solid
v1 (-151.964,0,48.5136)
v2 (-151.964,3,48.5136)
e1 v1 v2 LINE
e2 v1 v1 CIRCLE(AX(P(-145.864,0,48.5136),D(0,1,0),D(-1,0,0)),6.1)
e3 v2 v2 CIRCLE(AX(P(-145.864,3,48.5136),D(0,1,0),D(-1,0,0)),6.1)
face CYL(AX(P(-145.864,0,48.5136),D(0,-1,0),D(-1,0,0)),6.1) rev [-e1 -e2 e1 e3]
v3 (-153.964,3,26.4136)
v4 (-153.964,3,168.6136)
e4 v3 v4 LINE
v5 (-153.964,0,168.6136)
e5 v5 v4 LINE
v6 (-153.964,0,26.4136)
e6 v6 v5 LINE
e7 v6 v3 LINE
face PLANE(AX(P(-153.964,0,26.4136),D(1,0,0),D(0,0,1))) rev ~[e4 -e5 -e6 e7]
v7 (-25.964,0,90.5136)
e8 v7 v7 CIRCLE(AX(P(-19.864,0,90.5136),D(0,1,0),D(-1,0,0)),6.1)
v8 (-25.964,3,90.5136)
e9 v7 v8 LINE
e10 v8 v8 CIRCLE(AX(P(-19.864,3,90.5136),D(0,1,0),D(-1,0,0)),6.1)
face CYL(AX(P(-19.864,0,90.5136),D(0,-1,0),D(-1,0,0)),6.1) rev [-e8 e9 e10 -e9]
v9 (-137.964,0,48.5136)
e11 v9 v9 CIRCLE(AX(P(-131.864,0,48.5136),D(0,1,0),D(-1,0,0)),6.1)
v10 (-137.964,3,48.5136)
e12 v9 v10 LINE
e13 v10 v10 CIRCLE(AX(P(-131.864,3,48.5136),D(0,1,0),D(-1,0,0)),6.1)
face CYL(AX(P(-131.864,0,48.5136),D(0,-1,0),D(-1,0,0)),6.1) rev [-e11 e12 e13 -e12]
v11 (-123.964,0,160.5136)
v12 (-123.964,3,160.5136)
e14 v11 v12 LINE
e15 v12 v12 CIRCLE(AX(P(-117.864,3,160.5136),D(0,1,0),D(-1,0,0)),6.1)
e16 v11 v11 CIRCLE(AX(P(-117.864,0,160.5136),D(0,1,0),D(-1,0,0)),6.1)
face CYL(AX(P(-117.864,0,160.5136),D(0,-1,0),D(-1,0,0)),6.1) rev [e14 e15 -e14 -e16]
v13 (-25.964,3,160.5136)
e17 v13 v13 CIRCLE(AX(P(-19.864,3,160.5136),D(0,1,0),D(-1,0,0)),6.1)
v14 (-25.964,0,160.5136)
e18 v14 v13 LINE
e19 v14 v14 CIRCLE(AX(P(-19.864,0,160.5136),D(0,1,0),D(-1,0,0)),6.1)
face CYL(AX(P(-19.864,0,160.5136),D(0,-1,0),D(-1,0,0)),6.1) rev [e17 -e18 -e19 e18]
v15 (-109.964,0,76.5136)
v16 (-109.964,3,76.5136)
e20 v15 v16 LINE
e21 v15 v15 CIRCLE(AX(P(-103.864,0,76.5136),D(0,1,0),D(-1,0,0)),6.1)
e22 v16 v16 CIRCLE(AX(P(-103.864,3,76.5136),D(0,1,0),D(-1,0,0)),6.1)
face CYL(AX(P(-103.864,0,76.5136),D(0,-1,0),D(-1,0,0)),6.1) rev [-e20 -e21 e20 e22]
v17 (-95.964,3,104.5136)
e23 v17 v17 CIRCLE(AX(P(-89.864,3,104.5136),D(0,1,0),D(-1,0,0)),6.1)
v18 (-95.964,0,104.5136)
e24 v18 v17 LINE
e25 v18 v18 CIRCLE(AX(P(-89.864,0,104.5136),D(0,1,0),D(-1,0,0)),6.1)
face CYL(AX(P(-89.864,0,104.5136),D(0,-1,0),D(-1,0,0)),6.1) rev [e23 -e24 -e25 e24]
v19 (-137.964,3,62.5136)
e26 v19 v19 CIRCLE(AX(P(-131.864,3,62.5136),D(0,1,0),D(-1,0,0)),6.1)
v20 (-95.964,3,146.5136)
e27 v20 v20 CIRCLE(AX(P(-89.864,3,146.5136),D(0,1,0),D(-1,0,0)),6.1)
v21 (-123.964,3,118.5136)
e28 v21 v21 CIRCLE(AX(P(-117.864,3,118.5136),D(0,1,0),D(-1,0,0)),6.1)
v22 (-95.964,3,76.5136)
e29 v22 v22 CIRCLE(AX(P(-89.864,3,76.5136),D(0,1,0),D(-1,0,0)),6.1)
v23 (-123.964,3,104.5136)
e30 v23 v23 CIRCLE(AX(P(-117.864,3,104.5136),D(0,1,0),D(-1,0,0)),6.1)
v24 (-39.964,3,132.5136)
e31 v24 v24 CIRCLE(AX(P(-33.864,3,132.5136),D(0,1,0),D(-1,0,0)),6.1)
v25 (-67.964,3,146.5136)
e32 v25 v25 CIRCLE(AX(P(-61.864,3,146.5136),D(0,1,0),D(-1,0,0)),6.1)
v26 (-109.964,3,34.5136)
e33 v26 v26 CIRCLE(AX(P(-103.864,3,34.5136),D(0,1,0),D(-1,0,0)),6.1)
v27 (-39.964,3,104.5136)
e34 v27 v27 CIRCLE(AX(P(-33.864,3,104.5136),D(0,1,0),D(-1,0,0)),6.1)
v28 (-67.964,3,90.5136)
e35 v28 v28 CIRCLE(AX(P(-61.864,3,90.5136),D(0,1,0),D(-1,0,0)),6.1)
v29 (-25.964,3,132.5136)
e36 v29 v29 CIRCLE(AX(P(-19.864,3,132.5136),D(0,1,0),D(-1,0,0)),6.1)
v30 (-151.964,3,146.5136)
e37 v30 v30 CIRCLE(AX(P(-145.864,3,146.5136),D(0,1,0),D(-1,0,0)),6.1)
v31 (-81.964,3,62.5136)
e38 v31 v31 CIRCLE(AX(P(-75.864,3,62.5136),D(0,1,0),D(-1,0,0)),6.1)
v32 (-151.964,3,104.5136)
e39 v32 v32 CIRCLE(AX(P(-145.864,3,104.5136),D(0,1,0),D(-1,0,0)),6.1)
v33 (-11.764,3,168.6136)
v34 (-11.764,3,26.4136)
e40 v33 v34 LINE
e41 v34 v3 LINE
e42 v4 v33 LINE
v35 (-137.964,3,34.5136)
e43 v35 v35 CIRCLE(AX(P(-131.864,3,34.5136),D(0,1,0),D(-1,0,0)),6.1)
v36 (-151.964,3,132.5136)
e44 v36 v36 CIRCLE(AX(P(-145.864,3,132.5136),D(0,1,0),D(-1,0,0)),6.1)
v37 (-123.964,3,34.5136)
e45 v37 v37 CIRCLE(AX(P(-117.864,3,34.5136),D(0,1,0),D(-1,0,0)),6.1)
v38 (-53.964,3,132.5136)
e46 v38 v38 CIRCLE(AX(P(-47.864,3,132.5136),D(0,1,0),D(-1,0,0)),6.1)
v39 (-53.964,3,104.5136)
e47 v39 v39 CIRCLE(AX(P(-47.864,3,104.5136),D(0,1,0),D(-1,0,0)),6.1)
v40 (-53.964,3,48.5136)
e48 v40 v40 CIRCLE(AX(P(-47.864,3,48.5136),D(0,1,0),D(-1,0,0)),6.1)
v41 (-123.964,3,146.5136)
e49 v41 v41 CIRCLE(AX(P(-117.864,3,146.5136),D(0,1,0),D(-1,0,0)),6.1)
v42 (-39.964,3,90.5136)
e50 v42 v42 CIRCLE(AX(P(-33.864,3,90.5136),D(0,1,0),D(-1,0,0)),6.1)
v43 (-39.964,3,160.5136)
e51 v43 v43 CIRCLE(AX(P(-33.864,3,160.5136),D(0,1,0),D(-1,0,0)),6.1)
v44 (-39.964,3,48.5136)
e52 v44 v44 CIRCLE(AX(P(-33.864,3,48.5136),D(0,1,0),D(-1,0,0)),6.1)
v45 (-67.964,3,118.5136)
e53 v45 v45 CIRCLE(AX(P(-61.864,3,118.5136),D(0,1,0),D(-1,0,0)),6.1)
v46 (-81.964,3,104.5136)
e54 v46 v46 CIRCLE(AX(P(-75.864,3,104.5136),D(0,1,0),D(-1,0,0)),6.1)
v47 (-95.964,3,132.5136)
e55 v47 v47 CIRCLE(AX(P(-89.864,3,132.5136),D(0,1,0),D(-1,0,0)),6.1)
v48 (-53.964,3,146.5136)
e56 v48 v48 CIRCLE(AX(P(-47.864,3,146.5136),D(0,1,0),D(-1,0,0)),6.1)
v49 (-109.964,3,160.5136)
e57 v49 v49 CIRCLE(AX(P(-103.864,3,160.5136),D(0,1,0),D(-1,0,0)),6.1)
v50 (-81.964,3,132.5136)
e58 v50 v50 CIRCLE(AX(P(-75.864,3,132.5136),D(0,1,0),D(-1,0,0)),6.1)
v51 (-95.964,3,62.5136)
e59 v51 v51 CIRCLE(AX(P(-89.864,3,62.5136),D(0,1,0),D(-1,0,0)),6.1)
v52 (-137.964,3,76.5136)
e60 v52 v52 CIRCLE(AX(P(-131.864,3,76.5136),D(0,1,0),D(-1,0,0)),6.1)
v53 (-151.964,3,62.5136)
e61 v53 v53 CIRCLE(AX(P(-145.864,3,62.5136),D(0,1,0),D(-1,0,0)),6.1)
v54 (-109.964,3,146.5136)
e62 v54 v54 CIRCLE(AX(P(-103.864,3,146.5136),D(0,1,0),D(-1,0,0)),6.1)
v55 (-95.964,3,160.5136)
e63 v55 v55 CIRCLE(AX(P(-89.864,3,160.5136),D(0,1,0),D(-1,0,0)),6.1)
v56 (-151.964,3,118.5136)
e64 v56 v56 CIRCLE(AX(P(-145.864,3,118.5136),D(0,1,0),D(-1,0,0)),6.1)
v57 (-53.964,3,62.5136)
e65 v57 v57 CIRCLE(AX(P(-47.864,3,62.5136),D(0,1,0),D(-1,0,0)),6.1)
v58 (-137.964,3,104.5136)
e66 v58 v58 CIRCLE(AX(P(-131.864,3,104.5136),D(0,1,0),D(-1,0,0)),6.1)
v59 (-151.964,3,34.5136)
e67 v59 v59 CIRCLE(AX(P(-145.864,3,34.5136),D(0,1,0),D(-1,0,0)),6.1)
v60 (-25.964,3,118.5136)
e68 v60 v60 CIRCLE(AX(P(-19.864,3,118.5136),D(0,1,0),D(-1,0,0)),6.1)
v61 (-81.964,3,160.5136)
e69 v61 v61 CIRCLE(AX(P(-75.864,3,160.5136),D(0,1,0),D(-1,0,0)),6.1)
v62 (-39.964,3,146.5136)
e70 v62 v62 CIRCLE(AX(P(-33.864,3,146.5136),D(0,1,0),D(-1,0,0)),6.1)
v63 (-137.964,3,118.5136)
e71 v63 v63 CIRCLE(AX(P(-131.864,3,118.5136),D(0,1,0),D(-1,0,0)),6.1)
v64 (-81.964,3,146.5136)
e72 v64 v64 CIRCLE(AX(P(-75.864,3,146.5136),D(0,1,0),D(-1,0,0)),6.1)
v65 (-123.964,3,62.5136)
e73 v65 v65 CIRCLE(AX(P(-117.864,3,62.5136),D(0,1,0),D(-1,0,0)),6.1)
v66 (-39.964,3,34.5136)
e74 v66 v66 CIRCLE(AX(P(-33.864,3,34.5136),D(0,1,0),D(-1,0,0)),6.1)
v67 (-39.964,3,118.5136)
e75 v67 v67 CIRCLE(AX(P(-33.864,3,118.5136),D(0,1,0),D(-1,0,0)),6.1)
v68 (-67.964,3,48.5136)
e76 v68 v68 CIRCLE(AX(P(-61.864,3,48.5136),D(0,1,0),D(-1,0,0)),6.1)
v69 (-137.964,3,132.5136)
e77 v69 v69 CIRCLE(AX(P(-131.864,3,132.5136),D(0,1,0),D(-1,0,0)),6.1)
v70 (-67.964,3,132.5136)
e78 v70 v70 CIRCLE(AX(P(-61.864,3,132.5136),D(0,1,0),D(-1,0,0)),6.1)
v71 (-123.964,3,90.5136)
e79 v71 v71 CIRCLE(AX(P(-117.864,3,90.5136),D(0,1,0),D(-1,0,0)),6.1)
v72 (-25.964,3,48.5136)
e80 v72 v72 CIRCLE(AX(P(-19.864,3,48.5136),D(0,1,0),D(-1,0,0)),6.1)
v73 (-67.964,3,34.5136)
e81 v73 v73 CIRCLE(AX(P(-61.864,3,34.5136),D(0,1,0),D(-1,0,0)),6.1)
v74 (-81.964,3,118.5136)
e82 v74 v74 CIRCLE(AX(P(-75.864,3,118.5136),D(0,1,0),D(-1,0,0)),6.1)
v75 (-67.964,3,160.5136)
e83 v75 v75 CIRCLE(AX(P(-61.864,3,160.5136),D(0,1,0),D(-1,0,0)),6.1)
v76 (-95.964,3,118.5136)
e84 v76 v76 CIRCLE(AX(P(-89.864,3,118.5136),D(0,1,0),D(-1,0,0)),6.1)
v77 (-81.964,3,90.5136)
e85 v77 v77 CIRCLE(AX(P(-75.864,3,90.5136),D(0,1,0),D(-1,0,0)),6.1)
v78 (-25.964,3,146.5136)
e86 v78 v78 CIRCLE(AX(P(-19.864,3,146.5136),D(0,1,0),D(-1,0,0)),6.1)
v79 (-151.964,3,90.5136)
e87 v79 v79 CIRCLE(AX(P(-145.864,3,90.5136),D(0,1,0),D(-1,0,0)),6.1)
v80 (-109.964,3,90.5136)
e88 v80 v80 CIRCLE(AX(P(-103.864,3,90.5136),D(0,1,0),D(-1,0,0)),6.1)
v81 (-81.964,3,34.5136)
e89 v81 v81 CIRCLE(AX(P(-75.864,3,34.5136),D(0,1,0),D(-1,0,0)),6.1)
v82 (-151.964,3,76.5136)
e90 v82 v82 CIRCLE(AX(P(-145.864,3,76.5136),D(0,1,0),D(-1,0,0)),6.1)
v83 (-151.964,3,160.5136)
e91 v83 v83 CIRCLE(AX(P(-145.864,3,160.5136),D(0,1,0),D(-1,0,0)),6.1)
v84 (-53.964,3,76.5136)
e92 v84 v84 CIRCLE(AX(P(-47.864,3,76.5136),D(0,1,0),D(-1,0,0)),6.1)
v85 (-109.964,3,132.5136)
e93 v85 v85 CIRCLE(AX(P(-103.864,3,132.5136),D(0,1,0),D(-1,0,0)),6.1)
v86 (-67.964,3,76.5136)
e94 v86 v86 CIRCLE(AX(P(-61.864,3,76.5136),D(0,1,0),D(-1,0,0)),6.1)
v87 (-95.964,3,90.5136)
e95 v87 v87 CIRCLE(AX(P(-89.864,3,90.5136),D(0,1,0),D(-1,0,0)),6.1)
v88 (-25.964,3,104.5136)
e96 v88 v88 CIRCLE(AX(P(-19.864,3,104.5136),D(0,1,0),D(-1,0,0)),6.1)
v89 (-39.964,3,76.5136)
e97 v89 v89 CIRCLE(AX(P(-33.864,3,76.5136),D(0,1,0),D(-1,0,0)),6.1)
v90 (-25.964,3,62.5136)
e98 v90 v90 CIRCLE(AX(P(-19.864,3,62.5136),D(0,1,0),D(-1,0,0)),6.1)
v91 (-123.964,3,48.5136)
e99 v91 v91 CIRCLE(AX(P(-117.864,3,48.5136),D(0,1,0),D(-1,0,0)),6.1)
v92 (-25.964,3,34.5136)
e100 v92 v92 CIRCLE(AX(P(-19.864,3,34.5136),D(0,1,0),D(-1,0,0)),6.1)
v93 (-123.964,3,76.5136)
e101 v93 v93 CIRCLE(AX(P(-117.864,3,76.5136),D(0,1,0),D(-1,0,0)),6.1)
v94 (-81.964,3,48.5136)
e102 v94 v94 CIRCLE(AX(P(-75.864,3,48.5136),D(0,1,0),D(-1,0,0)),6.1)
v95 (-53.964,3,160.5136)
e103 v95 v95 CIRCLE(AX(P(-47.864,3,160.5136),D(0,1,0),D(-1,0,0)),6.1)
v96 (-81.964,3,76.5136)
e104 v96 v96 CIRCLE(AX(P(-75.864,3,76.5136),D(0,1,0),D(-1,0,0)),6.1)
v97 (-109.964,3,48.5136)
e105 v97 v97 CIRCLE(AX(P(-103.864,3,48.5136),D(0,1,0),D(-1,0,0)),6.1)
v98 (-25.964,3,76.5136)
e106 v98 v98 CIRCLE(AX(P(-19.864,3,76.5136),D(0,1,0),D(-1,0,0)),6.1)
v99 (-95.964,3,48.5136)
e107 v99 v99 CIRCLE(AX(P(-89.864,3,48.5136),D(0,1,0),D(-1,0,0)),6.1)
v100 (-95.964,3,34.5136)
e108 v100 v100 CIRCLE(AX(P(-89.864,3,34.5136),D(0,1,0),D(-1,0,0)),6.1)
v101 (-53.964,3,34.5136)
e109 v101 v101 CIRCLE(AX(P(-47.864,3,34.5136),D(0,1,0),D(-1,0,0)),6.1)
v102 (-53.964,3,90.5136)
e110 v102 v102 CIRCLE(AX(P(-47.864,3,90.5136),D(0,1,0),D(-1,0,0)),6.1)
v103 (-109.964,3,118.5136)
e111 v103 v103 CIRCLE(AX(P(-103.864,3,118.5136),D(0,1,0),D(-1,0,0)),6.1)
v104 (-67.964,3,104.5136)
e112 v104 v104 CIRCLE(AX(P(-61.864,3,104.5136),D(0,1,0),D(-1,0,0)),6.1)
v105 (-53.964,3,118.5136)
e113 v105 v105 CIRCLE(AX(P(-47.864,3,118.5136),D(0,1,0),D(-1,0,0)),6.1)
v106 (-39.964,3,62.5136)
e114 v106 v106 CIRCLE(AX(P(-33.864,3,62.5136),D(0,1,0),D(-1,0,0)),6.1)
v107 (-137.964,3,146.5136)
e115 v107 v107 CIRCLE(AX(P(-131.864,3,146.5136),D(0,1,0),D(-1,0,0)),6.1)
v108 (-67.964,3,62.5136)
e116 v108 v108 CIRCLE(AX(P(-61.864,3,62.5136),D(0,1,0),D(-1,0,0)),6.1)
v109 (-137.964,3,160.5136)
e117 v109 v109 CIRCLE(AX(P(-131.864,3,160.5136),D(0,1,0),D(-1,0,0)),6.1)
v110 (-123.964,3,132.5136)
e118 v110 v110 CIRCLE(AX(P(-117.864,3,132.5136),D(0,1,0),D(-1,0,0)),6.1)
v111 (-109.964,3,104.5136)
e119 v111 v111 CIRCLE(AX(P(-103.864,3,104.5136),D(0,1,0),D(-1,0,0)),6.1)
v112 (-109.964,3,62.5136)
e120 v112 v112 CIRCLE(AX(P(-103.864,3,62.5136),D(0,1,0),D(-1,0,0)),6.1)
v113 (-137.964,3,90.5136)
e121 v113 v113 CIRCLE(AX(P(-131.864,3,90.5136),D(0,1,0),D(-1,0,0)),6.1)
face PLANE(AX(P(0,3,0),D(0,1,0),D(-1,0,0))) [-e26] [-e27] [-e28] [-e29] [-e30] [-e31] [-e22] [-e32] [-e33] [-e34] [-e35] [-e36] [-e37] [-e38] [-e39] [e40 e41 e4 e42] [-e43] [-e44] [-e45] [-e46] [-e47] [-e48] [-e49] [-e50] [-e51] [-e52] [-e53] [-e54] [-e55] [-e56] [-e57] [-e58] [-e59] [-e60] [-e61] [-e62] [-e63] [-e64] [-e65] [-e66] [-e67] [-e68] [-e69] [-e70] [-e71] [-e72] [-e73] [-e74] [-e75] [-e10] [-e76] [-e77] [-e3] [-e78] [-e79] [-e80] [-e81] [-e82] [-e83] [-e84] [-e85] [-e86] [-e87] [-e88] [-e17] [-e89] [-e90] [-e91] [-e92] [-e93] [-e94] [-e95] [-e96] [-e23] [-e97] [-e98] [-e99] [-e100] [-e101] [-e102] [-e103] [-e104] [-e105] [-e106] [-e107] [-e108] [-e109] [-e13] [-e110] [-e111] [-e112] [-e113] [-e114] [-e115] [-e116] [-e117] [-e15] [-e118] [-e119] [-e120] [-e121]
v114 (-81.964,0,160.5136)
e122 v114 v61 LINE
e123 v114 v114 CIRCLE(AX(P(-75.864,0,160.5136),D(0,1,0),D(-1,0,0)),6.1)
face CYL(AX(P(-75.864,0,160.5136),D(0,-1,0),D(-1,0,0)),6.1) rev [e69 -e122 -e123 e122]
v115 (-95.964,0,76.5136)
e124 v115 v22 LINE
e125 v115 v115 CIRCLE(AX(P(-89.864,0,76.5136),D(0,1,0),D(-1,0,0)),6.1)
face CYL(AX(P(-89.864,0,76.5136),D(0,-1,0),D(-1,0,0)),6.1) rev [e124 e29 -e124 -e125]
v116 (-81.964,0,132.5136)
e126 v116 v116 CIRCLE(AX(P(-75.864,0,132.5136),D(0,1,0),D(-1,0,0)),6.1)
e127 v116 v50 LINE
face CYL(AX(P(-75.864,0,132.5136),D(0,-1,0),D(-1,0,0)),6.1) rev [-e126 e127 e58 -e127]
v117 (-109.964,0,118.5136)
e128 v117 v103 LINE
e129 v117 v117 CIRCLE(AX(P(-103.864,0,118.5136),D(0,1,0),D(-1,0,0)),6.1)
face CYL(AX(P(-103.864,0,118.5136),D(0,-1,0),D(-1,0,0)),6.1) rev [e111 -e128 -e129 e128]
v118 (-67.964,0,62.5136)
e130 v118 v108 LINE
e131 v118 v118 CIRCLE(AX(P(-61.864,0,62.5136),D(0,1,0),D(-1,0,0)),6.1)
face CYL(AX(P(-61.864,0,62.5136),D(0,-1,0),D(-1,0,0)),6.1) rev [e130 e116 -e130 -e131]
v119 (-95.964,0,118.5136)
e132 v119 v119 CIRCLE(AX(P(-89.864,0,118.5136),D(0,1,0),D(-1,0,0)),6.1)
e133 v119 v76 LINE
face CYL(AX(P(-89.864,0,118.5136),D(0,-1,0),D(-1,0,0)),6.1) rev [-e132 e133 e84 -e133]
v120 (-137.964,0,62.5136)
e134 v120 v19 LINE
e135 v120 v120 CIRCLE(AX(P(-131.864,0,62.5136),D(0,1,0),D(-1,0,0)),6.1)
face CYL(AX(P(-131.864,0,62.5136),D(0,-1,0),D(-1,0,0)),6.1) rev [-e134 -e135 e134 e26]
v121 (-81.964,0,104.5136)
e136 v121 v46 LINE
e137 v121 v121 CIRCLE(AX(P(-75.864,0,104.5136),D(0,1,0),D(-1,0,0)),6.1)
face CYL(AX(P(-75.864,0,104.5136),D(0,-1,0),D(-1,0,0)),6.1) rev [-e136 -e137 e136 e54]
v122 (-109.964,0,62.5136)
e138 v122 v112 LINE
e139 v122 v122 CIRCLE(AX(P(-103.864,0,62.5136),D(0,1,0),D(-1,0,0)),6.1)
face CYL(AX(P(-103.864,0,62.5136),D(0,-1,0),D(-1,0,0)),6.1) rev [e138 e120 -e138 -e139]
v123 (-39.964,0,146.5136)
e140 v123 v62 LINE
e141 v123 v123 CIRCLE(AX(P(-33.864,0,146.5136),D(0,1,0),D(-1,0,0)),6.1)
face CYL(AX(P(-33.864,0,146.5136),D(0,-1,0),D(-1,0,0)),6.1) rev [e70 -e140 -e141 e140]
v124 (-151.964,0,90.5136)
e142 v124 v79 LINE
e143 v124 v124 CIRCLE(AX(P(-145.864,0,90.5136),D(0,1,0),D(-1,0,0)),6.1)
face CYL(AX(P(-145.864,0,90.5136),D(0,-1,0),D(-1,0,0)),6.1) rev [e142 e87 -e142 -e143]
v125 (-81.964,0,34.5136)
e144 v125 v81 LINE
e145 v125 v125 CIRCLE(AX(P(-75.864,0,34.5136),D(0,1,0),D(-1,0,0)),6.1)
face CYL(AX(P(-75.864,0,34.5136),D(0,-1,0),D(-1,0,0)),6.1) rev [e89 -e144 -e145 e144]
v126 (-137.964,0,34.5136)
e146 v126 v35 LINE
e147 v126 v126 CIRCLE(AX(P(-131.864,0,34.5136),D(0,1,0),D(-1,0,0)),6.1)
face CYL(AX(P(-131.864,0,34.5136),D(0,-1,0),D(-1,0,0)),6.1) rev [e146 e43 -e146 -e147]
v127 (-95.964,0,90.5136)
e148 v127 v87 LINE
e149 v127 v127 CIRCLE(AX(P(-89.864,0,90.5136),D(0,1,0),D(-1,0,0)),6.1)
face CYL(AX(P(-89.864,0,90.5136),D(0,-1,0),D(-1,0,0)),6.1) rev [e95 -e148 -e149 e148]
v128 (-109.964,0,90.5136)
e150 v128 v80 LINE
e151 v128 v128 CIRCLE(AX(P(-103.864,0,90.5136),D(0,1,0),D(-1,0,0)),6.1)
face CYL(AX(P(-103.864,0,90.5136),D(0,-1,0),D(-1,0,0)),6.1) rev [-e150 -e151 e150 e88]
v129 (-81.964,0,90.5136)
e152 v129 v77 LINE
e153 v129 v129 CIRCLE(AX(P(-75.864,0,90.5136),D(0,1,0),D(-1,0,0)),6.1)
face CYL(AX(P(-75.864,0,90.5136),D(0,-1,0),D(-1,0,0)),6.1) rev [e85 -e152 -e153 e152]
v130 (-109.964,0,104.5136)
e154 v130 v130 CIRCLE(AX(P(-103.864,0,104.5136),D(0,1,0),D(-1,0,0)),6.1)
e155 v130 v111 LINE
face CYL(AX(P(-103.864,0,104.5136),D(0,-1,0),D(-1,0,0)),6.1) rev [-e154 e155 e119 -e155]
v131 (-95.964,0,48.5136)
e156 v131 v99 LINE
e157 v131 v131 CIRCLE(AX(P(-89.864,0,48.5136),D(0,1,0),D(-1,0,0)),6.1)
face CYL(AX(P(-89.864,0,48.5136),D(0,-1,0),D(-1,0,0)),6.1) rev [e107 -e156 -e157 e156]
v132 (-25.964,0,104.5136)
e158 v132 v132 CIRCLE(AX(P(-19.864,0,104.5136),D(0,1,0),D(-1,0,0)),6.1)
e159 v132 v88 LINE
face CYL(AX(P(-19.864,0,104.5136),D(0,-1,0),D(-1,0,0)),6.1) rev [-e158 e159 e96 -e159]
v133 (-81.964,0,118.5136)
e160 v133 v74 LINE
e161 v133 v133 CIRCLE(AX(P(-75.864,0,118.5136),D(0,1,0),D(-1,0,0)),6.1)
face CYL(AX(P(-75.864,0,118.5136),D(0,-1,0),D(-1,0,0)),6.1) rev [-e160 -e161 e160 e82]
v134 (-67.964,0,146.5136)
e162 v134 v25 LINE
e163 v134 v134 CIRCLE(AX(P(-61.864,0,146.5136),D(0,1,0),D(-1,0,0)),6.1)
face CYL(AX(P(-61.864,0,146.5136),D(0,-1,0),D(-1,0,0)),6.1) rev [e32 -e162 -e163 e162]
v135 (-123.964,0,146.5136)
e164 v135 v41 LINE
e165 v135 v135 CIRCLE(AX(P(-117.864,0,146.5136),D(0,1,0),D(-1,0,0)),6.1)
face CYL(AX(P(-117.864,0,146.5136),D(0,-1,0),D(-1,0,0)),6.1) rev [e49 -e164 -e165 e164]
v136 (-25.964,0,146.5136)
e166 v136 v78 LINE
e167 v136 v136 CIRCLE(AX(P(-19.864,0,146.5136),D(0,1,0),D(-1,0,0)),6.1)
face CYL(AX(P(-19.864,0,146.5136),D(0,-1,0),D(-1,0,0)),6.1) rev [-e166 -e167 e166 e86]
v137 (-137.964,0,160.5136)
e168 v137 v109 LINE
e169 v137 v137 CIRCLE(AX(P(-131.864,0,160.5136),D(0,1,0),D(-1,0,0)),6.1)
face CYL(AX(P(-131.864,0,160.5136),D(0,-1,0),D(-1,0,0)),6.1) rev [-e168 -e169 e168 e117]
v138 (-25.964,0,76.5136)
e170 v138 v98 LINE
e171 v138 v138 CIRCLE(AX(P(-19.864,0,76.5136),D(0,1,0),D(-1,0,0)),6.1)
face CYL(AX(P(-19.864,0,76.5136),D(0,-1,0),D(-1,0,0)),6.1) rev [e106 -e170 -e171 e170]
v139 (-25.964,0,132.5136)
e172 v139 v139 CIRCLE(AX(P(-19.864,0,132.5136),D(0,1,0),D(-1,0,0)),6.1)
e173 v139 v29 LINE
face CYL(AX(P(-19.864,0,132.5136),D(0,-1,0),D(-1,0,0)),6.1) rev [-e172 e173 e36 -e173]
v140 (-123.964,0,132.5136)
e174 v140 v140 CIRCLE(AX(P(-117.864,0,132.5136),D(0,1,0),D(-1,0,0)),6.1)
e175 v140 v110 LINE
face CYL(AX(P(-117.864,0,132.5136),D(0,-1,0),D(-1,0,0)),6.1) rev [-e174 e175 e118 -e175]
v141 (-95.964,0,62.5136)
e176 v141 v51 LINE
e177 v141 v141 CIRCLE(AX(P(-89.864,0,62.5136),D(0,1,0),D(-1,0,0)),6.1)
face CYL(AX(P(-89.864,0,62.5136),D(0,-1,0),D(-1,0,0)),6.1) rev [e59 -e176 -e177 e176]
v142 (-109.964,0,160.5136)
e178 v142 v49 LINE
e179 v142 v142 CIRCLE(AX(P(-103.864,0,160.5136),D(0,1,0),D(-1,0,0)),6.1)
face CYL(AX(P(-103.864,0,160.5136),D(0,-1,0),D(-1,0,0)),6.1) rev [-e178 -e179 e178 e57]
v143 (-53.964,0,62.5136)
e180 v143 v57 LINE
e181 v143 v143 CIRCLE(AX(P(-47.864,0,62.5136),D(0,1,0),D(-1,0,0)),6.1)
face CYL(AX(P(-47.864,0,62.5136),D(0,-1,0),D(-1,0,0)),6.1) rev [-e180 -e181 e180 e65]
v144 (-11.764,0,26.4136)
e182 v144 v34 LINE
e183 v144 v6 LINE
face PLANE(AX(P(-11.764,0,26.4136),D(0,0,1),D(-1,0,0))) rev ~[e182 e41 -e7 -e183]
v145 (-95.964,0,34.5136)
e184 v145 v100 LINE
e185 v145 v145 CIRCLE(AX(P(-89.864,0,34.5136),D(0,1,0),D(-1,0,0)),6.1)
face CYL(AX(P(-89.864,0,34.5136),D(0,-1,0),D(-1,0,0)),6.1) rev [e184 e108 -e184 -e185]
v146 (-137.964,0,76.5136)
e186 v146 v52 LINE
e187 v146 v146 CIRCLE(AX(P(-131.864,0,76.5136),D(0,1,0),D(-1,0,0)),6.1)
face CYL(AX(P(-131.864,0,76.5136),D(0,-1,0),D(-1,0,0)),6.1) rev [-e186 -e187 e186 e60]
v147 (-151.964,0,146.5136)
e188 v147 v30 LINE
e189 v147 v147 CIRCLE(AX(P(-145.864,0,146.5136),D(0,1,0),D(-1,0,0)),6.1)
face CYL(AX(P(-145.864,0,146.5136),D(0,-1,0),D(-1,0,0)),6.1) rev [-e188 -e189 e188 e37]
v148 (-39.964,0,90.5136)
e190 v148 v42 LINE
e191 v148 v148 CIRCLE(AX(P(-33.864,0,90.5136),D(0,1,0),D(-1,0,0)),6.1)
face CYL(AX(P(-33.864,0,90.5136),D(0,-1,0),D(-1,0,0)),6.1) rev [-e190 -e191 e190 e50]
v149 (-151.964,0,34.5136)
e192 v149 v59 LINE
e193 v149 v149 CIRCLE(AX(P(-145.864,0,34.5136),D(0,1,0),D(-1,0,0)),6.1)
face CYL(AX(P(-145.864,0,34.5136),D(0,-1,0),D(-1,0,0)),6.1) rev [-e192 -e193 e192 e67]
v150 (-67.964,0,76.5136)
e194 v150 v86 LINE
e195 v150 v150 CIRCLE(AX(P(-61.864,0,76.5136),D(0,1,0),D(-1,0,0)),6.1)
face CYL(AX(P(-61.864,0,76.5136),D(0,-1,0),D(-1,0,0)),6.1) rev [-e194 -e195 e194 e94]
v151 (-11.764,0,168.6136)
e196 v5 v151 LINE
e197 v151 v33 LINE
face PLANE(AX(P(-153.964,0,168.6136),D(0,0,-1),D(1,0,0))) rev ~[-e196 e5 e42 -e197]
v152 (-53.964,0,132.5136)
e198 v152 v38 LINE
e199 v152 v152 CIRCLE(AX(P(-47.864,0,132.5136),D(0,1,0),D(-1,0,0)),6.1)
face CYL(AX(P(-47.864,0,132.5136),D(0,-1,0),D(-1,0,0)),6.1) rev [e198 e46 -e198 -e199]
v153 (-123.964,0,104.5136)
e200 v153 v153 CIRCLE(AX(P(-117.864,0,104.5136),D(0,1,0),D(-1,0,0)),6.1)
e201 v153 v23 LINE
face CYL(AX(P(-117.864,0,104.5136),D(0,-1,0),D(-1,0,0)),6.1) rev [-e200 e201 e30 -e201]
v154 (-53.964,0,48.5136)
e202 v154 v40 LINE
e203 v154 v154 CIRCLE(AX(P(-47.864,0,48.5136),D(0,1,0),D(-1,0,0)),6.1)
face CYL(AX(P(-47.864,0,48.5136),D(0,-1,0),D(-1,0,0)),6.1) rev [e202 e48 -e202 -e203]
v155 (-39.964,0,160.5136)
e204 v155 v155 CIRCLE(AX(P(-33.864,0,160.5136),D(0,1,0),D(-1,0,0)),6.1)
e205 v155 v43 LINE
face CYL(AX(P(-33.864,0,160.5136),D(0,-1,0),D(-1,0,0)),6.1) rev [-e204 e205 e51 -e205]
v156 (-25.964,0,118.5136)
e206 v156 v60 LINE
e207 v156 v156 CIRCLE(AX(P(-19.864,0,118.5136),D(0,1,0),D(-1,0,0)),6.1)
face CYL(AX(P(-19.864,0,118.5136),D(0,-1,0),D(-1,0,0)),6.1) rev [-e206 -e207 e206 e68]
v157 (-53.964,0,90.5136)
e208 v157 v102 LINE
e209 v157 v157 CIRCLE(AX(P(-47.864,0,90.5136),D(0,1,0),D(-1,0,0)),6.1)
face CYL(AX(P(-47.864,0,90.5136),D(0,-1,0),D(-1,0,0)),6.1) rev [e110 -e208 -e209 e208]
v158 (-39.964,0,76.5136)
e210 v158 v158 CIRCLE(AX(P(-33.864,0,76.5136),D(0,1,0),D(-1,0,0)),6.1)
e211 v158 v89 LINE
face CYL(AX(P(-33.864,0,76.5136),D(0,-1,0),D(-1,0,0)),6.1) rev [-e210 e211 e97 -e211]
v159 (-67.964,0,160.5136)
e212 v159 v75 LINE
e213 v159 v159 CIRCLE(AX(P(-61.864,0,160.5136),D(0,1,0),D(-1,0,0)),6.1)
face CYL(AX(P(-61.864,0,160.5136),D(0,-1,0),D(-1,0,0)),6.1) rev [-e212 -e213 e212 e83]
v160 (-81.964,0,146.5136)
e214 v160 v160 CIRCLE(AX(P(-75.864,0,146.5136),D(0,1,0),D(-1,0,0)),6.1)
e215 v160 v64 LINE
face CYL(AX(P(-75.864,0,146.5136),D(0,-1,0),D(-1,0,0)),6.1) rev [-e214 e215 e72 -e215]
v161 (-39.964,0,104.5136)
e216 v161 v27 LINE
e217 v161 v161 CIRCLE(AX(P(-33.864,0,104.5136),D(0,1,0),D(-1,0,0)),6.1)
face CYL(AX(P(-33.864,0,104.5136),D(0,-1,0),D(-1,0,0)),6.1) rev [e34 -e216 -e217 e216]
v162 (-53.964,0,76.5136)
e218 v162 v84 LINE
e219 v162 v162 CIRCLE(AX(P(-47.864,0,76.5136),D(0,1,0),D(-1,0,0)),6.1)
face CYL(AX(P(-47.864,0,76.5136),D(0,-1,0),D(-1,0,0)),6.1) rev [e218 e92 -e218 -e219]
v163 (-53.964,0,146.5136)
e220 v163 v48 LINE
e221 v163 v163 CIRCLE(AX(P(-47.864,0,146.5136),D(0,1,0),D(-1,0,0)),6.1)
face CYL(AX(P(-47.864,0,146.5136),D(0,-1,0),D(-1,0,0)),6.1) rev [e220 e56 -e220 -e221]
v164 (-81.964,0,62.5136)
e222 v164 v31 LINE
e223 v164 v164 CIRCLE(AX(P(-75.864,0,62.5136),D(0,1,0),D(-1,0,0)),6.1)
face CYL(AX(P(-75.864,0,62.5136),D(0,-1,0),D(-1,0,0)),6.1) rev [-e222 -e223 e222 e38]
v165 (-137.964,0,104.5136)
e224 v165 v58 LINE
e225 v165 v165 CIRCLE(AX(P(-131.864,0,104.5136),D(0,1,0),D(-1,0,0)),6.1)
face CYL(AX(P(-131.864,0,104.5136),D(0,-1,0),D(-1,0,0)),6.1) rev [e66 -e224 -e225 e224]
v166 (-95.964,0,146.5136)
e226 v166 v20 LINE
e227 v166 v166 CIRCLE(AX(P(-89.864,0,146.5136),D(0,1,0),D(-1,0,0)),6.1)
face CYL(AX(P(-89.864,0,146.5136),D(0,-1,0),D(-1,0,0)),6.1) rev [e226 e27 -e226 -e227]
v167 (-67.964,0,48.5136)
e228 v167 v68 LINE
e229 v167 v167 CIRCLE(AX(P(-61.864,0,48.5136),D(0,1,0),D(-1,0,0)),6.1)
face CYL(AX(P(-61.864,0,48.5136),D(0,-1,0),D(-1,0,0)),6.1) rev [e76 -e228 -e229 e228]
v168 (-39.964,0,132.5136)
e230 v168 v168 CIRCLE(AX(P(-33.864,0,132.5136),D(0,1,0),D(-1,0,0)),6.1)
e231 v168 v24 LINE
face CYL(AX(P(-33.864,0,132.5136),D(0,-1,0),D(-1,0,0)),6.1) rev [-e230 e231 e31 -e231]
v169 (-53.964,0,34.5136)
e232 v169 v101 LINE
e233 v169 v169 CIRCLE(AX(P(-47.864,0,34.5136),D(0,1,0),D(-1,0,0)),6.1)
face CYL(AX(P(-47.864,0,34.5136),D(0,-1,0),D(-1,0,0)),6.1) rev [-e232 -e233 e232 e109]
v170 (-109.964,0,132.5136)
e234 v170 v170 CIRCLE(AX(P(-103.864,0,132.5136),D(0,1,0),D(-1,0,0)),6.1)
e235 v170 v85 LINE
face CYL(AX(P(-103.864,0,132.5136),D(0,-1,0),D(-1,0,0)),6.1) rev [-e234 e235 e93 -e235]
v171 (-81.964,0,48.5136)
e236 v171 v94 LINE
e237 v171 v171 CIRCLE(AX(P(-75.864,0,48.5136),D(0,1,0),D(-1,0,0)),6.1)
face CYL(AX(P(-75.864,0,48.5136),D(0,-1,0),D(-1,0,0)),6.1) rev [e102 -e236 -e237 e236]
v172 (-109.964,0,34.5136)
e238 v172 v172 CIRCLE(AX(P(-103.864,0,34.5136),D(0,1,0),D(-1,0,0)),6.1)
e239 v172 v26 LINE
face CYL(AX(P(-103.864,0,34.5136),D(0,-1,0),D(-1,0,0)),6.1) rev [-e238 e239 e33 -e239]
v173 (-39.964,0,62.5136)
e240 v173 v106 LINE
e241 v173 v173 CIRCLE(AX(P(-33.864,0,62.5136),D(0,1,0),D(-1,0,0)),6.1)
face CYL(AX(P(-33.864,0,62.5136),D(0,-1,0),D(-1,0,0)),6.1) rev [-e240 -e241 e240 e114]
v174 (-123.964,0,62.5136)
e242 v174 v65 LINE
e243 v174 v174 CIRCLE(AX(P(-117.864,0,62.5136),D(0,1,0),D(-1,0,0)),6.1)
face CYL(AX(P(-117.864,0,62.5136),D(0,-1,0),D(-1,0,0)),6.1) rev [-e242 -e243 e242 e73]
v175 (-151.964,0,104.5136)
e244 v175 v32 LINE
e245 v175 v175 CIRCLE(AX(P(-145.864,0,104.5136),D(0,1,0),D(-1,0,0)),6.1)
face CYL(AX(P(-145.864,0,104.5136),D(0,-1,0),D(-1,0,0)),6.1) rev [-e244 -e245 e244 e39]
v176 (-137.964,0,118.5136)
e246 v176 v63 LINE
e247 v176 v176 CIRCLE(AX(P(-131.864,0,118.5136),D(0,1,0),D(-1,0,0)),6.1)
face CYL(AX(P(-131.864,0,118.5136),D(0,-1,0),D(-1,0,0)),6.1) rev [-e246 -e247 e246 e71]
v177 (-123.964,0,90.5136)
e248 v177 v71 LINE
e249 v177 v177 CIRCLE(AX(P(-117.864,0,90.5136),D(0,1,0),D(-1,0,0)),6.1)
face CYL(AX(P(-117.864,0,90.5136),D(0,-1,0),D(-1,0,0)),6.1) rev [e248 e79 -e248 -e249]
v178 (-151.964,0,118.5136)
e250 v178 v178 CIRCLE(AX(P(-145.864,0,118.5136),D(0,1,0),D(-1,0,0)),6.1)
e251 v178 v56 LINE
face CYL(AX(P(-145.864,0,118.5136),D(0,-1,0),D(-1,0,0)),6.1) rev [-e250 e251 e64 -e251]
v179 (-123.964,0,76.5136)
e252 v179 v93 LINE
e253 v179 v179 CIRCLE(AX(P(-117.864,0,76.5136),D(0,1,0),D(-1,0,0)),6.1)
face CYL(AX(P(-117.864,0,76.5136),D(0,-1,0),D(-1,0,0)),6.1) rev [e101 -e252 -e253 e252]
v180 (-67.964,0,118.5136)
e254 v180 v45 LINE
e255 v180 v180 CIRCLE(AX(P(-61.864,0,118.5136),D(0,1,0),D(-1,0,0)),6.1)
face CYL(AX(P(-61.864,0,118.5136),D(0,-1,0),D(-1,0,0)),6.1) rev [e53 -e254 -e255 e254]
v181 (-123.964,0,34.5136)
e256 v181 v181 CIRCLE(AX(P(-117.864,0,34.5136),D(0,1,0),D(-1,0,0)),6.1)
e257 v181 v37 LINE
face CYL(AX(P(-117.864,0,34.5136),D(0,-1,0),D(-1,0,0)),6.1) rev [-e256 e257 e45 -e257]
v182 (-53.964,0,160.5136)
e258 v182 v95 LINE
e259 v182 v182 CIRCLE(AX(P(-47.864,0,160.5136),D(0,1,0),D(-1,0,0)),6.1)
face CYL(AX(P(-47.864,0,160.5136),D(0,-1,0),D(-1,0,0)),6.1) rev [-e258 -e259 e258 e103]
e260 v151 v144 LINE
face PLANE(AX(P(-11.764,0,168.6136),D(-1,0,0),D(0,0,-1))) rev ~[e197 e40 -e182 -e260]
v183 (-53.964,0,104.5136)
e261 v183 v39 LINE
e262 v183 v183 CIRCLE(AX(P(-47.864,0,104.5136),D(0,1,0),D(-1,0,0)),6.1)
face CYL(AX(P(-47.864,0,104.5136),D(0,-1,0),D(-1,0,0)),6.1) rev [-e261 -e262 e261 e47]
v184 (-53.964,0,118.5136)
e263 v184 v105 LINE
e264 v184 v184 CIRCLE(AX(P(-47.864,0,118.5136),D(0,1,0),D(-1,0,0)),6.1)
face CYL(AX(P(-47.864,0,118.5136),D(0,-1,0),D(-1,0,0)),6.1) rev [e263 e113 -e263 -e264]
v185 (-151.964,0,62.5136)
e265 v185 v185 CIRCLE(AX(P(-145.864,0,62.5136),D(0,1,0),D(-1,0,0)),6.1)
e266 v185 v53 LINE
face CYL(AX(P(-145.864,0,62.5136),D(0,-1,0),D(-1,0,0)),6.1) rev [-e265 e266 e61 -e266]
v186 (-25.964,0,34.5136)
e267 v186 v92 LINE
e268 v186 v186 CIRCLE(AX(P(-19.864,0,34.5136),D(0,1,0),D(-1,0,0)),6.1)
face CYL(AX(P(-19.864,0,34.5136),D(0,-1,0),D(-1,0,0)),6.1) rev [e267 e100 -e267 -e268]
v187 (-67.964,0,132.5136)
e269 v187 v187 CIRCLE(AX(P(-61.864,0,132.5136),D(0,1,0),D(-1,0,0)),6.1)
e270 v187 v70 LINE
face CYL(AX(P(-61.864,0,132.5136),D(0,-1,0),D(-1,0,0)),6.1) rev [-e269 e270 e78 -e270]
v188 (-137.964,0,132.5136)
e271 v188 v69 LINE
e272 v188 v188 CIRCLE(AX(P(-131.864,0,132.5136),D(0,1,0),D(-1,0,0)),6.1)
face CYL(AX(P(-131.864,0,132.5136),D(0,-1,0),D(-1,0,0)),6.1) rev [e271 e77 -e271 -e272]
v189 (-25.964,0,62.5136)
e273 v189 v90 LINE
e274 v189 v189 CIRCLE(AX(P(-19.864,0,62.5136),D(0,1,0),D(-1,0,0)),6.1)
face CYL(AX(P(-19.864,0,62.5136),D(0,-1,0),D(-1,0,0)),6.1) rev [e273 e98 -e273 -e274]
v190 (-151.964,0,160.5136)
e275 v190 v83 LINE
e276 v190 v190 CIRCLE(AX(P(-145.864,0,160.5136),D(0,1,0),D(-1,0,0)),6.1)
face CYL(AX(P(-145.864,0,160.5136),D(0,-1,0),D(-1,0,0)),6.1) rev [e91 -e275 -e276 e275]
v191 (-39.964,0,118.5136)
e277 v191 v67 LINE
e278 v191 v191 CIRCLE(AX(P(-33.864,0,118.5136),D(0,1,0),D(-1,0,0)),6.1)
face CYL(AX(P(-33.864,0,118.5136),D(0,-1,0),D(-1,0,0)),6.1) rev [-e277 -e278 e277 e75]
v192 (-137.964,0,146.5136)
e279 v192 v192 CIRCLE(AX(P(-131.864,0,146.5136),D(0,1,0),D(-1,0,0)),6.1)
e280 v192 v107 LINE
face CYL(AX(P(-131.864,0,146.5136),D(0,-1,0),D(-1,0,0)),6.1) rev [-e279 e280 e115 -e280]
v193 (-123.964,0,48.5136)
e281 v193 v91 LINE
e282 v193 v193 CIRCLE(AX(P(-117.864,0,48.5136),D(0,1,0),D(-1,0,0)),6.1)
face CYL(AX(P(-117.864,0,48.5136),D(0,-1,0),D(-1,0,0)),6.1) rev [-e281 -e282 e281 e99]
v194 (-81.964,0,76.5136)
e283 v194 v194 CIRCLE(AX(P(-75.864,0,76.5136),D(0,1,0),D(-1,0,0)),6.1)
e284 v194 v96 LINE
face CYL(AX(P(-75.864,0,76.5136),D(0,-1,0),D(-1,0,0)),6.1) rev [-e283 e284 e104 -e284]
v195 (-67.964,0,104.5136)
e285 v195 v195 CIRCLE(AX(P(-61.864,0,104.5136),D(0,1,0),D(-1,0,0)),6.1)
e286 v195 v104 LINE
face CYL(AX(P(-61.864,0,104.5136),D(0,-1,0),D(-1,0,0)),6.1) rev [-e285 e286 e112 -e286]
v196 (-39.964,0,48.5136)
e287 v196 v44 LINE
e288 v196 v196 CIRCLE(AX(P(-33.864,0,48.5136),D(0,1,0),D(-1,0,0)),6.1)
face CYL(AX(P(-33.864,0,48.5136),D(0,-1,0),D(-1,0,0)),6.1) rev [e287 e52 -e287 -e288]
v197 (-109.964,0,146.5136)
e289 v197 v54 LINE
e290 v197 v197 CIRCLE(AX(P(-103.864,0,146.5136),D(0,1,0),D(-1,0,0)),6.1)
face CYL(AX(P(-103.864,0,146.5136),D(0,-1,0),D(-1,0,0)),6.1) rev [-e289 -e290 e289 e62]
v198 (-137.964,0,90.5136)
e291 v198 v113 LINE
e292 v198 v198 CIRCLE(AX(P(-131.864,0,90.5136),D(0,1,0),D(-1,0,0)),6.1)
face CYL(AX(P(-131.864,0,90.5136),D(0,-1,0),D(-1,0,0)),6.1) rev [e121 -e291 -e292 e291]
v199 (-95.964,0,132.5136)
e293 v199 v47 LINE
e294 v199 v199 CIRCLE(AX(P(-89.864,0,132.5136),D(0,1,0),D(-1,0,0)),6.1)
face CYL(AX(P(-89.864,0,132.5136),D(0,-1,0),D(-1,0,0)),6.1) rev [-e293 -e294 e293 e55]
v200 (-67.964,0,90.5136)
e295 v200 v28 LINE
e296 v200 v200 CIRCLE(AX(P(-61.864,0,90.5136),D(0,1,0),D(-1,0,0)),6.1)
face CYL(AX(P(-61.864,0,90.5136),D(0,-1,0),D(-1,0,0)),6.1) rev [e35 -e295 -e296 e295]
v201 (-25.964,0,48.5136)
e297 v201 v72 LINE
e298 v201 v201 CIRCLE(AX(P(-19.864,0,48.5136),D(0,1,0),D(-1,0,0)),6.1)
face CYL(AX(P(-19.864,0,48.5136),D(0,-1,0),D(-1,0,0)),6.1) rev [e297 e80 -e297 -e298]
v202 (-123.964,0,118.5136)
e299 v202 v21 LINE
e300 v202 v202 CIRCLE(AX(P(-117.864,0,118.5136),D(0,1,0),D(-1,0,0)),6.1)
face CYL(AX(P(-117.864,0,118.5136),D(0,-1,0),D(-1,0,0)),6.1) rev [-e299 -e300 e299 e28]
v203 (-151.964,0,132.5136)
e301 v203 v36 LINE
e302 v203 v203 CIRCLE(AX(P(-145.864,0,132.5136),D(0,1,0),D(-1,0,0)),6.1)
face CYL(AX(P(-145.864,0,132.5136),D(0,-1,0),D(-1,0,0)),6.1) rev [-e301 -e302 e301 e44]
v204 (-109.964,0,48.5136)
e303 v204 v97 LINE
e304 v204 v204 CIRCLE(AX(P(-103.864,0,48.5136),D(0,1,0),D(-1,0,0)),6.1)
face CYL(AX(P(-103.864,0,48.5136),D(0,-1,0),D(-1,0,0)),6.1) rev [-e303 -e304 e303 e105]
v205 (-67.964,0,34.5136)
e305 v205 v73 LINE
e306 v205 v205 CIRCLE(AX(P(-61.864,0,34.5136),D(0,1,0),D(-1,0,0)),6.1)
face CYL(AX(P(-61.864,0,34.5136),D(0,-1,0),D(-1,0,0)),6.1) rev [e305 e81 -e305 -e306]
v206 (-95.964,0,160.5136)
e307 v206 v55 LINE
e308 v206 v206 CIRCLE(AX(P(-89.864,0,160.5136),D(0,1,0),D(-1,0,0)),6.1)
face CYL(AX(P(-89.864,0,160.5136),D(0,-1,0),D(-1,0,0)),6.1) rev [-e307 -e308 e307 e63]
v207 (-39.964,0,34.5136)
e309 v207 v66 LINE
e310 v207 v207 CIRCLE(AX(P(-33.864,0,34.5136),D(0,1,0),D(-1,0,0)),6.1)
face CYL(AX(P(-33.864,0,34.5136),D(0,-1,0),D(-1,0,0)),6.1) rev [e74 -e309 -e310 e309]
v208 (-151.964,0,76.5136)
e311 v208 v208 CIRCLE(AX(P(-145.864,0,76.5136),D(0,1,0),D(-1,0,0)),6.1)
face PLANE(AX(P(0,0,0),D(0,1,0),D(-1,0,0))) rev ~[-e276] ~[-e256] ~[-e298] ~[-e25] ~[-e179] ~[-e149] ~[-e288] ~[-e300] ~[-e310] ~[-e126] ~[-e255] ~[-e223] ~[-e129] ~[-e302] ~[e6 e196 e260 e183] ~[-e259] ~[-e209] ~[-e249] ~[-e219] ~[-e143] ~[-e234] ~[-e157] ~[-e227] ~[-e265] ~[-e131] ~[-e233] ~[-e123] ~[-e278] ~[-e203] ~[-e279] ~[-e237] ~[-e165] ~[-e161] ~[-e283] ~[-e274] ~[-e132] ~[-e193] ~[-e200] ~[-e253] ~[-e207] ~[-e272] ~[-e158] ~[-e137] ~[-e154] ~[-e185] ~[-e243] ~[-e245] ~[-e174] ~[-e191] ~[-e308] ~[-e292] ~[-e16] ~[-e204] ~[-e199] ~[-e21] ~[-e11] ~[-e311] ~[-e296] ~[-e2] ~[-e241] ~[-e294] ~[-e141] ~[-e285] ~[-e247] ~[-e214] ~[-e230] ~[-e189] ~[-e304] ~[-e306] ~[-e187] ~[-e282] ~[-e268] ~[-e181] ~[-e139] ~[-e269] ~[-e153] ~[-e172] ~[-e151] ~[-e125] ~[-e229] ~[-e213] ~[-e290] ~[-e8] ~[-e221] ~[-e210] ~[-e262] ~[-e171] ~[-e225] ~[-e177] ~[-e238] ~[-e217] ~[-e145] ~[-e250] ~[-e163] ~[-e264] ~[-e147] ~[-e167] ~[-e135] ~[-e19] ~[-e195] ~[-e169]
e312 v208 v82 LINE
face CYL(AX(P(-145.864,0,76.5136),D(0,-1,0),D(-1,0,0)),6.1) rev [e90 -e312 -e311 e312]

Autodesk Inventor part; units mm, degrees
ref_plane "YZ Plane" through (0, 0, 0) normal (1, 0, 0) x (0, 1, 0)
ref_plane "XZ Plane" through (0, 0, 0) normal (0, 1, 0) x (-1, 0, 0)
ref_plane "XY Plane" through (0, 0, 0) normal (0, 0, 1) x (1, 0, 0)
sketch "Sketch1" plane through (0, 0, 0) normal (0, 1, 0) x (-1, 0, 0)
  circle A0 centre (19.864, 160.5136) radius 6.1
  line L0 (-59.8031, 200.4081) -> (-59.8031, 68.8047) construction
  line L1 (-59.8031, 68.8047) -> (39.3213, 68.8047) construction
  circle A1 centre (19.864, 146.5136) radius 6.1
  circle A2 centre (19.864, 132.5136) radius 6.1
  circle A3 centre (19.864, 118.5136) radius 6.1
  circle A4 centre (19.864, 104.5136) radius 6.1
  circle A5 centre (19.864, 90.5136) radius 6.1
  circle A6 centre (19.864, 76.5136) radius 6.1
  circle A7 centre (19.864, 62.5136) radius 6.1
  circle A8 centre (19.864, 48.5136) radius 6.1
  circle A9 centre (19.864, 34.5136) radius 6.1
  circle A10 centre (33.864, 160.5136) radius 6.1
  circle A11 centre (33.864, 146.5136) radius 6.1
  circle A12 centre (33.864, 132.5136) radius 6.1
  circle A13 centre (33.864, 118.5136) radius 6.1
  circle A14 centre (33.864, 104.5136) radius 6.1
  circle A15 centre (33.864, 90.5136) radius 6.1
  circle A16 centre (33.864, 76.5136) radius 6.1
  circle A17 centre (33.864, 62.5136) radius 6.1
  circle A18 centre (33.864, 48.5136) radius 6.1
  circle A19 centre (33.864, 34.5136) radius 6.1
  circle A20 centre (47.864, 160.5136) radius 6.1
  circle A21 centre (47.864, 146.5136) radius 6.1
  circle A22 centre (47.864, 132.5136) radius 6.1
  circle A23 centre (47.864, 118.5136) radius 6.1
  circle A24 centre (47.864, 104.5136) radius 6.1
  circle A25 centre (47.864, 90.5136) radius 6.1
  circle A26 centre (47.864, 76.5136) radius 6.1
  circle A27 centre (47.864, 62.5136) radius 6.1
  circle A28 centre (47.864, 48.5136) radius 6.1
  circle A29 centre (47.864, 34.5136) radius 6.1
  circle A30 centre (61.864, 160.5136) radius 6.1
  circle A31 centre (61.864, 146.5136) radius 6.1
  circle A32 centre (61.864, 132.5136) radius 6.1
  circle A33 centre (61.864, 118.5136) radius 6.1
  circle A34 centre (61.864, 104.5136) radius 6.1
  circle A35 centre (61.864, 90.5136) radius 6.1
  circle A36 centre (61.864, 76.5136) radius 6.1
  circle A37 centre (61.864, 62.5136) radius 6.1
  circle A38 centre (61.864, 48.5136) radius 6.1
  circle A39 centre (61.864, 34.5136) radius 6.1
  circle A40 centre (75.864, 160.5136) radius 6.1
  circle A41 centre (75.864, 146.5136) radius 6.1
  circle A42 centre (75.864, 132.5136) radius 6.1
  circle A43 centre (75.864, 118.5136) radius 6.1
  circle A44 centre (75.864, 104.5136) radius 6.1
  circle A45 centre (75.864, 90.5136) radius 6.1
  circle A46 centre (75.864, 76.5136) radius 6.1
  circle A47 centre (75.864, 62.5136) radius 6.1
  circle A48 centre (75.864, 48.5136) radius 6.1
  circle A49 centre (75.864, 34.5136) radius 6.1
  circle A50 centre (89.864, 160.5136) radius 6.1
  circle A51 centre (89.864, 146.5136) radius 6.1
  circle A52 centre (89.864, 132.5136) radius 6.1
  circle A53 centre (89.864, 118.5136) radius 6.1
  circle A54 centre (89.864, 104.5136) radius 6.1
  circle A55 centre (89.864, 90.5136) radius 6.1
  circle A56 centre (89.864, 76.5136) radius 6.1
  circle A57 centre (89.864, 62.5136) radius 6.1
  circle A58 centre (89.864, 48.5136) radius 6.1
  circle A59 centre (89.864, 34.5136) radius 6.1
  circle A60 centre (103.864, 160.5136) radius 6.1
  circle A61 centre (103.864, 146.5136) radius 6.1
  circle A62 centre (103.864, 132.5136) radius 6.1
  circle A63 centre (103.864, 118.5136) radius 6.1
  circle A64 centre (103.864, 104.5136) radius 6.1
  circle A65 centre (103.864, 90.5136) radius 6.1
  circle A66 centre (103.864, 76.5136) radius 6.1
  circle A67 centre (103.864, 62.5136) radius 6.1
  circle A68 centre (103.864, 48.5136) radius 6.1
  circle A69 centre (103.864, 34.5136) radius 6.1
  circle A70 centre (117.864, 160.5136) radius 6.1
  circle A71 centre (117.864, 146.5136) radius 6.1
  circle A72 centre (117.864, 132.5136) radius 6.1
  circle A73 centre (117.864, 118.5136) radius 6.1
  circle A74 centre (117.864, 104.5136) radius 6.1
  circle A75 centre (117.864, 90.5136) radius 6.1
  circle A76 centre (117.864, 76.5136) radius 6.1
  circle A77 centre (117.864, 62.5136) radius 6.1
  circle A78 centre (117.864, 48.5136) radius 6.1
  circle A79 centre (117.864, 34.5136) radius 6.1
  circle A80 centre (131.864, 160.5136) radius 6.1
  circle A81 centre (131.864, 146.5136) radius 6.1
  circle A82 centre (131.864, 132.5136) radius 6.1
  circle A83 centre (131.864, 118.5136) radius 6.1
  circle A84 centre (131.864, 104.5136) radius 6.1
  circle A85 centre (131.864, 90.5136) radius 6.1
  circle A86 centre (131.864, 76.5136) radius 6.1
  circle A87 centre (131.864, 62.5136) radius 6.1
  circle A88 centre (131.864, 48.5136) radius 6.1
  circle A89 centre (131.864, 34.5136) radius 6.1
  circle A90 centre (145.864, 160.5136) radius 6.1
  circle A91 centre (145.864, 146.5136) radius 6.1
  circle A92 centre (145.864, 132.5136) radius 6.1
  circle A93 centre (145.864, 118.5136) radius 6.1
  circle A94 centre (145.864, 104.5136) radius 6.1
  circle A95 centre (145.864, 90.5136) radius 6.1
  circle A96 centre (145.864, 76.5136) radius 6.1
  circle A97 centre (145.864, 62.5136) radius 6.1
  circle A98 centre (145.864, 48.5136) radius 6.1
  circle A99 centre (145.864, 34.5136) radius 6.1
  line L2 (153.964, 26.4136) -> (153.964, 168.6136)
  line L3 (153.964, 168.6136) -> (11.764, 168.6136)
  line L4 (11.764, 168.6136) -> (11.764, 26.4136)
  line L5 (11.764, 26.4136) -> (153.964, 26.4136)
  point P0 (0, 0)
  dimension "d0" = 12.2
  dimension "d3" = 14
  dimension "d6" = 14
extrude "Extrusion1" add sketch "Sketch1" along normal blind 3
properties part number "grid2"
